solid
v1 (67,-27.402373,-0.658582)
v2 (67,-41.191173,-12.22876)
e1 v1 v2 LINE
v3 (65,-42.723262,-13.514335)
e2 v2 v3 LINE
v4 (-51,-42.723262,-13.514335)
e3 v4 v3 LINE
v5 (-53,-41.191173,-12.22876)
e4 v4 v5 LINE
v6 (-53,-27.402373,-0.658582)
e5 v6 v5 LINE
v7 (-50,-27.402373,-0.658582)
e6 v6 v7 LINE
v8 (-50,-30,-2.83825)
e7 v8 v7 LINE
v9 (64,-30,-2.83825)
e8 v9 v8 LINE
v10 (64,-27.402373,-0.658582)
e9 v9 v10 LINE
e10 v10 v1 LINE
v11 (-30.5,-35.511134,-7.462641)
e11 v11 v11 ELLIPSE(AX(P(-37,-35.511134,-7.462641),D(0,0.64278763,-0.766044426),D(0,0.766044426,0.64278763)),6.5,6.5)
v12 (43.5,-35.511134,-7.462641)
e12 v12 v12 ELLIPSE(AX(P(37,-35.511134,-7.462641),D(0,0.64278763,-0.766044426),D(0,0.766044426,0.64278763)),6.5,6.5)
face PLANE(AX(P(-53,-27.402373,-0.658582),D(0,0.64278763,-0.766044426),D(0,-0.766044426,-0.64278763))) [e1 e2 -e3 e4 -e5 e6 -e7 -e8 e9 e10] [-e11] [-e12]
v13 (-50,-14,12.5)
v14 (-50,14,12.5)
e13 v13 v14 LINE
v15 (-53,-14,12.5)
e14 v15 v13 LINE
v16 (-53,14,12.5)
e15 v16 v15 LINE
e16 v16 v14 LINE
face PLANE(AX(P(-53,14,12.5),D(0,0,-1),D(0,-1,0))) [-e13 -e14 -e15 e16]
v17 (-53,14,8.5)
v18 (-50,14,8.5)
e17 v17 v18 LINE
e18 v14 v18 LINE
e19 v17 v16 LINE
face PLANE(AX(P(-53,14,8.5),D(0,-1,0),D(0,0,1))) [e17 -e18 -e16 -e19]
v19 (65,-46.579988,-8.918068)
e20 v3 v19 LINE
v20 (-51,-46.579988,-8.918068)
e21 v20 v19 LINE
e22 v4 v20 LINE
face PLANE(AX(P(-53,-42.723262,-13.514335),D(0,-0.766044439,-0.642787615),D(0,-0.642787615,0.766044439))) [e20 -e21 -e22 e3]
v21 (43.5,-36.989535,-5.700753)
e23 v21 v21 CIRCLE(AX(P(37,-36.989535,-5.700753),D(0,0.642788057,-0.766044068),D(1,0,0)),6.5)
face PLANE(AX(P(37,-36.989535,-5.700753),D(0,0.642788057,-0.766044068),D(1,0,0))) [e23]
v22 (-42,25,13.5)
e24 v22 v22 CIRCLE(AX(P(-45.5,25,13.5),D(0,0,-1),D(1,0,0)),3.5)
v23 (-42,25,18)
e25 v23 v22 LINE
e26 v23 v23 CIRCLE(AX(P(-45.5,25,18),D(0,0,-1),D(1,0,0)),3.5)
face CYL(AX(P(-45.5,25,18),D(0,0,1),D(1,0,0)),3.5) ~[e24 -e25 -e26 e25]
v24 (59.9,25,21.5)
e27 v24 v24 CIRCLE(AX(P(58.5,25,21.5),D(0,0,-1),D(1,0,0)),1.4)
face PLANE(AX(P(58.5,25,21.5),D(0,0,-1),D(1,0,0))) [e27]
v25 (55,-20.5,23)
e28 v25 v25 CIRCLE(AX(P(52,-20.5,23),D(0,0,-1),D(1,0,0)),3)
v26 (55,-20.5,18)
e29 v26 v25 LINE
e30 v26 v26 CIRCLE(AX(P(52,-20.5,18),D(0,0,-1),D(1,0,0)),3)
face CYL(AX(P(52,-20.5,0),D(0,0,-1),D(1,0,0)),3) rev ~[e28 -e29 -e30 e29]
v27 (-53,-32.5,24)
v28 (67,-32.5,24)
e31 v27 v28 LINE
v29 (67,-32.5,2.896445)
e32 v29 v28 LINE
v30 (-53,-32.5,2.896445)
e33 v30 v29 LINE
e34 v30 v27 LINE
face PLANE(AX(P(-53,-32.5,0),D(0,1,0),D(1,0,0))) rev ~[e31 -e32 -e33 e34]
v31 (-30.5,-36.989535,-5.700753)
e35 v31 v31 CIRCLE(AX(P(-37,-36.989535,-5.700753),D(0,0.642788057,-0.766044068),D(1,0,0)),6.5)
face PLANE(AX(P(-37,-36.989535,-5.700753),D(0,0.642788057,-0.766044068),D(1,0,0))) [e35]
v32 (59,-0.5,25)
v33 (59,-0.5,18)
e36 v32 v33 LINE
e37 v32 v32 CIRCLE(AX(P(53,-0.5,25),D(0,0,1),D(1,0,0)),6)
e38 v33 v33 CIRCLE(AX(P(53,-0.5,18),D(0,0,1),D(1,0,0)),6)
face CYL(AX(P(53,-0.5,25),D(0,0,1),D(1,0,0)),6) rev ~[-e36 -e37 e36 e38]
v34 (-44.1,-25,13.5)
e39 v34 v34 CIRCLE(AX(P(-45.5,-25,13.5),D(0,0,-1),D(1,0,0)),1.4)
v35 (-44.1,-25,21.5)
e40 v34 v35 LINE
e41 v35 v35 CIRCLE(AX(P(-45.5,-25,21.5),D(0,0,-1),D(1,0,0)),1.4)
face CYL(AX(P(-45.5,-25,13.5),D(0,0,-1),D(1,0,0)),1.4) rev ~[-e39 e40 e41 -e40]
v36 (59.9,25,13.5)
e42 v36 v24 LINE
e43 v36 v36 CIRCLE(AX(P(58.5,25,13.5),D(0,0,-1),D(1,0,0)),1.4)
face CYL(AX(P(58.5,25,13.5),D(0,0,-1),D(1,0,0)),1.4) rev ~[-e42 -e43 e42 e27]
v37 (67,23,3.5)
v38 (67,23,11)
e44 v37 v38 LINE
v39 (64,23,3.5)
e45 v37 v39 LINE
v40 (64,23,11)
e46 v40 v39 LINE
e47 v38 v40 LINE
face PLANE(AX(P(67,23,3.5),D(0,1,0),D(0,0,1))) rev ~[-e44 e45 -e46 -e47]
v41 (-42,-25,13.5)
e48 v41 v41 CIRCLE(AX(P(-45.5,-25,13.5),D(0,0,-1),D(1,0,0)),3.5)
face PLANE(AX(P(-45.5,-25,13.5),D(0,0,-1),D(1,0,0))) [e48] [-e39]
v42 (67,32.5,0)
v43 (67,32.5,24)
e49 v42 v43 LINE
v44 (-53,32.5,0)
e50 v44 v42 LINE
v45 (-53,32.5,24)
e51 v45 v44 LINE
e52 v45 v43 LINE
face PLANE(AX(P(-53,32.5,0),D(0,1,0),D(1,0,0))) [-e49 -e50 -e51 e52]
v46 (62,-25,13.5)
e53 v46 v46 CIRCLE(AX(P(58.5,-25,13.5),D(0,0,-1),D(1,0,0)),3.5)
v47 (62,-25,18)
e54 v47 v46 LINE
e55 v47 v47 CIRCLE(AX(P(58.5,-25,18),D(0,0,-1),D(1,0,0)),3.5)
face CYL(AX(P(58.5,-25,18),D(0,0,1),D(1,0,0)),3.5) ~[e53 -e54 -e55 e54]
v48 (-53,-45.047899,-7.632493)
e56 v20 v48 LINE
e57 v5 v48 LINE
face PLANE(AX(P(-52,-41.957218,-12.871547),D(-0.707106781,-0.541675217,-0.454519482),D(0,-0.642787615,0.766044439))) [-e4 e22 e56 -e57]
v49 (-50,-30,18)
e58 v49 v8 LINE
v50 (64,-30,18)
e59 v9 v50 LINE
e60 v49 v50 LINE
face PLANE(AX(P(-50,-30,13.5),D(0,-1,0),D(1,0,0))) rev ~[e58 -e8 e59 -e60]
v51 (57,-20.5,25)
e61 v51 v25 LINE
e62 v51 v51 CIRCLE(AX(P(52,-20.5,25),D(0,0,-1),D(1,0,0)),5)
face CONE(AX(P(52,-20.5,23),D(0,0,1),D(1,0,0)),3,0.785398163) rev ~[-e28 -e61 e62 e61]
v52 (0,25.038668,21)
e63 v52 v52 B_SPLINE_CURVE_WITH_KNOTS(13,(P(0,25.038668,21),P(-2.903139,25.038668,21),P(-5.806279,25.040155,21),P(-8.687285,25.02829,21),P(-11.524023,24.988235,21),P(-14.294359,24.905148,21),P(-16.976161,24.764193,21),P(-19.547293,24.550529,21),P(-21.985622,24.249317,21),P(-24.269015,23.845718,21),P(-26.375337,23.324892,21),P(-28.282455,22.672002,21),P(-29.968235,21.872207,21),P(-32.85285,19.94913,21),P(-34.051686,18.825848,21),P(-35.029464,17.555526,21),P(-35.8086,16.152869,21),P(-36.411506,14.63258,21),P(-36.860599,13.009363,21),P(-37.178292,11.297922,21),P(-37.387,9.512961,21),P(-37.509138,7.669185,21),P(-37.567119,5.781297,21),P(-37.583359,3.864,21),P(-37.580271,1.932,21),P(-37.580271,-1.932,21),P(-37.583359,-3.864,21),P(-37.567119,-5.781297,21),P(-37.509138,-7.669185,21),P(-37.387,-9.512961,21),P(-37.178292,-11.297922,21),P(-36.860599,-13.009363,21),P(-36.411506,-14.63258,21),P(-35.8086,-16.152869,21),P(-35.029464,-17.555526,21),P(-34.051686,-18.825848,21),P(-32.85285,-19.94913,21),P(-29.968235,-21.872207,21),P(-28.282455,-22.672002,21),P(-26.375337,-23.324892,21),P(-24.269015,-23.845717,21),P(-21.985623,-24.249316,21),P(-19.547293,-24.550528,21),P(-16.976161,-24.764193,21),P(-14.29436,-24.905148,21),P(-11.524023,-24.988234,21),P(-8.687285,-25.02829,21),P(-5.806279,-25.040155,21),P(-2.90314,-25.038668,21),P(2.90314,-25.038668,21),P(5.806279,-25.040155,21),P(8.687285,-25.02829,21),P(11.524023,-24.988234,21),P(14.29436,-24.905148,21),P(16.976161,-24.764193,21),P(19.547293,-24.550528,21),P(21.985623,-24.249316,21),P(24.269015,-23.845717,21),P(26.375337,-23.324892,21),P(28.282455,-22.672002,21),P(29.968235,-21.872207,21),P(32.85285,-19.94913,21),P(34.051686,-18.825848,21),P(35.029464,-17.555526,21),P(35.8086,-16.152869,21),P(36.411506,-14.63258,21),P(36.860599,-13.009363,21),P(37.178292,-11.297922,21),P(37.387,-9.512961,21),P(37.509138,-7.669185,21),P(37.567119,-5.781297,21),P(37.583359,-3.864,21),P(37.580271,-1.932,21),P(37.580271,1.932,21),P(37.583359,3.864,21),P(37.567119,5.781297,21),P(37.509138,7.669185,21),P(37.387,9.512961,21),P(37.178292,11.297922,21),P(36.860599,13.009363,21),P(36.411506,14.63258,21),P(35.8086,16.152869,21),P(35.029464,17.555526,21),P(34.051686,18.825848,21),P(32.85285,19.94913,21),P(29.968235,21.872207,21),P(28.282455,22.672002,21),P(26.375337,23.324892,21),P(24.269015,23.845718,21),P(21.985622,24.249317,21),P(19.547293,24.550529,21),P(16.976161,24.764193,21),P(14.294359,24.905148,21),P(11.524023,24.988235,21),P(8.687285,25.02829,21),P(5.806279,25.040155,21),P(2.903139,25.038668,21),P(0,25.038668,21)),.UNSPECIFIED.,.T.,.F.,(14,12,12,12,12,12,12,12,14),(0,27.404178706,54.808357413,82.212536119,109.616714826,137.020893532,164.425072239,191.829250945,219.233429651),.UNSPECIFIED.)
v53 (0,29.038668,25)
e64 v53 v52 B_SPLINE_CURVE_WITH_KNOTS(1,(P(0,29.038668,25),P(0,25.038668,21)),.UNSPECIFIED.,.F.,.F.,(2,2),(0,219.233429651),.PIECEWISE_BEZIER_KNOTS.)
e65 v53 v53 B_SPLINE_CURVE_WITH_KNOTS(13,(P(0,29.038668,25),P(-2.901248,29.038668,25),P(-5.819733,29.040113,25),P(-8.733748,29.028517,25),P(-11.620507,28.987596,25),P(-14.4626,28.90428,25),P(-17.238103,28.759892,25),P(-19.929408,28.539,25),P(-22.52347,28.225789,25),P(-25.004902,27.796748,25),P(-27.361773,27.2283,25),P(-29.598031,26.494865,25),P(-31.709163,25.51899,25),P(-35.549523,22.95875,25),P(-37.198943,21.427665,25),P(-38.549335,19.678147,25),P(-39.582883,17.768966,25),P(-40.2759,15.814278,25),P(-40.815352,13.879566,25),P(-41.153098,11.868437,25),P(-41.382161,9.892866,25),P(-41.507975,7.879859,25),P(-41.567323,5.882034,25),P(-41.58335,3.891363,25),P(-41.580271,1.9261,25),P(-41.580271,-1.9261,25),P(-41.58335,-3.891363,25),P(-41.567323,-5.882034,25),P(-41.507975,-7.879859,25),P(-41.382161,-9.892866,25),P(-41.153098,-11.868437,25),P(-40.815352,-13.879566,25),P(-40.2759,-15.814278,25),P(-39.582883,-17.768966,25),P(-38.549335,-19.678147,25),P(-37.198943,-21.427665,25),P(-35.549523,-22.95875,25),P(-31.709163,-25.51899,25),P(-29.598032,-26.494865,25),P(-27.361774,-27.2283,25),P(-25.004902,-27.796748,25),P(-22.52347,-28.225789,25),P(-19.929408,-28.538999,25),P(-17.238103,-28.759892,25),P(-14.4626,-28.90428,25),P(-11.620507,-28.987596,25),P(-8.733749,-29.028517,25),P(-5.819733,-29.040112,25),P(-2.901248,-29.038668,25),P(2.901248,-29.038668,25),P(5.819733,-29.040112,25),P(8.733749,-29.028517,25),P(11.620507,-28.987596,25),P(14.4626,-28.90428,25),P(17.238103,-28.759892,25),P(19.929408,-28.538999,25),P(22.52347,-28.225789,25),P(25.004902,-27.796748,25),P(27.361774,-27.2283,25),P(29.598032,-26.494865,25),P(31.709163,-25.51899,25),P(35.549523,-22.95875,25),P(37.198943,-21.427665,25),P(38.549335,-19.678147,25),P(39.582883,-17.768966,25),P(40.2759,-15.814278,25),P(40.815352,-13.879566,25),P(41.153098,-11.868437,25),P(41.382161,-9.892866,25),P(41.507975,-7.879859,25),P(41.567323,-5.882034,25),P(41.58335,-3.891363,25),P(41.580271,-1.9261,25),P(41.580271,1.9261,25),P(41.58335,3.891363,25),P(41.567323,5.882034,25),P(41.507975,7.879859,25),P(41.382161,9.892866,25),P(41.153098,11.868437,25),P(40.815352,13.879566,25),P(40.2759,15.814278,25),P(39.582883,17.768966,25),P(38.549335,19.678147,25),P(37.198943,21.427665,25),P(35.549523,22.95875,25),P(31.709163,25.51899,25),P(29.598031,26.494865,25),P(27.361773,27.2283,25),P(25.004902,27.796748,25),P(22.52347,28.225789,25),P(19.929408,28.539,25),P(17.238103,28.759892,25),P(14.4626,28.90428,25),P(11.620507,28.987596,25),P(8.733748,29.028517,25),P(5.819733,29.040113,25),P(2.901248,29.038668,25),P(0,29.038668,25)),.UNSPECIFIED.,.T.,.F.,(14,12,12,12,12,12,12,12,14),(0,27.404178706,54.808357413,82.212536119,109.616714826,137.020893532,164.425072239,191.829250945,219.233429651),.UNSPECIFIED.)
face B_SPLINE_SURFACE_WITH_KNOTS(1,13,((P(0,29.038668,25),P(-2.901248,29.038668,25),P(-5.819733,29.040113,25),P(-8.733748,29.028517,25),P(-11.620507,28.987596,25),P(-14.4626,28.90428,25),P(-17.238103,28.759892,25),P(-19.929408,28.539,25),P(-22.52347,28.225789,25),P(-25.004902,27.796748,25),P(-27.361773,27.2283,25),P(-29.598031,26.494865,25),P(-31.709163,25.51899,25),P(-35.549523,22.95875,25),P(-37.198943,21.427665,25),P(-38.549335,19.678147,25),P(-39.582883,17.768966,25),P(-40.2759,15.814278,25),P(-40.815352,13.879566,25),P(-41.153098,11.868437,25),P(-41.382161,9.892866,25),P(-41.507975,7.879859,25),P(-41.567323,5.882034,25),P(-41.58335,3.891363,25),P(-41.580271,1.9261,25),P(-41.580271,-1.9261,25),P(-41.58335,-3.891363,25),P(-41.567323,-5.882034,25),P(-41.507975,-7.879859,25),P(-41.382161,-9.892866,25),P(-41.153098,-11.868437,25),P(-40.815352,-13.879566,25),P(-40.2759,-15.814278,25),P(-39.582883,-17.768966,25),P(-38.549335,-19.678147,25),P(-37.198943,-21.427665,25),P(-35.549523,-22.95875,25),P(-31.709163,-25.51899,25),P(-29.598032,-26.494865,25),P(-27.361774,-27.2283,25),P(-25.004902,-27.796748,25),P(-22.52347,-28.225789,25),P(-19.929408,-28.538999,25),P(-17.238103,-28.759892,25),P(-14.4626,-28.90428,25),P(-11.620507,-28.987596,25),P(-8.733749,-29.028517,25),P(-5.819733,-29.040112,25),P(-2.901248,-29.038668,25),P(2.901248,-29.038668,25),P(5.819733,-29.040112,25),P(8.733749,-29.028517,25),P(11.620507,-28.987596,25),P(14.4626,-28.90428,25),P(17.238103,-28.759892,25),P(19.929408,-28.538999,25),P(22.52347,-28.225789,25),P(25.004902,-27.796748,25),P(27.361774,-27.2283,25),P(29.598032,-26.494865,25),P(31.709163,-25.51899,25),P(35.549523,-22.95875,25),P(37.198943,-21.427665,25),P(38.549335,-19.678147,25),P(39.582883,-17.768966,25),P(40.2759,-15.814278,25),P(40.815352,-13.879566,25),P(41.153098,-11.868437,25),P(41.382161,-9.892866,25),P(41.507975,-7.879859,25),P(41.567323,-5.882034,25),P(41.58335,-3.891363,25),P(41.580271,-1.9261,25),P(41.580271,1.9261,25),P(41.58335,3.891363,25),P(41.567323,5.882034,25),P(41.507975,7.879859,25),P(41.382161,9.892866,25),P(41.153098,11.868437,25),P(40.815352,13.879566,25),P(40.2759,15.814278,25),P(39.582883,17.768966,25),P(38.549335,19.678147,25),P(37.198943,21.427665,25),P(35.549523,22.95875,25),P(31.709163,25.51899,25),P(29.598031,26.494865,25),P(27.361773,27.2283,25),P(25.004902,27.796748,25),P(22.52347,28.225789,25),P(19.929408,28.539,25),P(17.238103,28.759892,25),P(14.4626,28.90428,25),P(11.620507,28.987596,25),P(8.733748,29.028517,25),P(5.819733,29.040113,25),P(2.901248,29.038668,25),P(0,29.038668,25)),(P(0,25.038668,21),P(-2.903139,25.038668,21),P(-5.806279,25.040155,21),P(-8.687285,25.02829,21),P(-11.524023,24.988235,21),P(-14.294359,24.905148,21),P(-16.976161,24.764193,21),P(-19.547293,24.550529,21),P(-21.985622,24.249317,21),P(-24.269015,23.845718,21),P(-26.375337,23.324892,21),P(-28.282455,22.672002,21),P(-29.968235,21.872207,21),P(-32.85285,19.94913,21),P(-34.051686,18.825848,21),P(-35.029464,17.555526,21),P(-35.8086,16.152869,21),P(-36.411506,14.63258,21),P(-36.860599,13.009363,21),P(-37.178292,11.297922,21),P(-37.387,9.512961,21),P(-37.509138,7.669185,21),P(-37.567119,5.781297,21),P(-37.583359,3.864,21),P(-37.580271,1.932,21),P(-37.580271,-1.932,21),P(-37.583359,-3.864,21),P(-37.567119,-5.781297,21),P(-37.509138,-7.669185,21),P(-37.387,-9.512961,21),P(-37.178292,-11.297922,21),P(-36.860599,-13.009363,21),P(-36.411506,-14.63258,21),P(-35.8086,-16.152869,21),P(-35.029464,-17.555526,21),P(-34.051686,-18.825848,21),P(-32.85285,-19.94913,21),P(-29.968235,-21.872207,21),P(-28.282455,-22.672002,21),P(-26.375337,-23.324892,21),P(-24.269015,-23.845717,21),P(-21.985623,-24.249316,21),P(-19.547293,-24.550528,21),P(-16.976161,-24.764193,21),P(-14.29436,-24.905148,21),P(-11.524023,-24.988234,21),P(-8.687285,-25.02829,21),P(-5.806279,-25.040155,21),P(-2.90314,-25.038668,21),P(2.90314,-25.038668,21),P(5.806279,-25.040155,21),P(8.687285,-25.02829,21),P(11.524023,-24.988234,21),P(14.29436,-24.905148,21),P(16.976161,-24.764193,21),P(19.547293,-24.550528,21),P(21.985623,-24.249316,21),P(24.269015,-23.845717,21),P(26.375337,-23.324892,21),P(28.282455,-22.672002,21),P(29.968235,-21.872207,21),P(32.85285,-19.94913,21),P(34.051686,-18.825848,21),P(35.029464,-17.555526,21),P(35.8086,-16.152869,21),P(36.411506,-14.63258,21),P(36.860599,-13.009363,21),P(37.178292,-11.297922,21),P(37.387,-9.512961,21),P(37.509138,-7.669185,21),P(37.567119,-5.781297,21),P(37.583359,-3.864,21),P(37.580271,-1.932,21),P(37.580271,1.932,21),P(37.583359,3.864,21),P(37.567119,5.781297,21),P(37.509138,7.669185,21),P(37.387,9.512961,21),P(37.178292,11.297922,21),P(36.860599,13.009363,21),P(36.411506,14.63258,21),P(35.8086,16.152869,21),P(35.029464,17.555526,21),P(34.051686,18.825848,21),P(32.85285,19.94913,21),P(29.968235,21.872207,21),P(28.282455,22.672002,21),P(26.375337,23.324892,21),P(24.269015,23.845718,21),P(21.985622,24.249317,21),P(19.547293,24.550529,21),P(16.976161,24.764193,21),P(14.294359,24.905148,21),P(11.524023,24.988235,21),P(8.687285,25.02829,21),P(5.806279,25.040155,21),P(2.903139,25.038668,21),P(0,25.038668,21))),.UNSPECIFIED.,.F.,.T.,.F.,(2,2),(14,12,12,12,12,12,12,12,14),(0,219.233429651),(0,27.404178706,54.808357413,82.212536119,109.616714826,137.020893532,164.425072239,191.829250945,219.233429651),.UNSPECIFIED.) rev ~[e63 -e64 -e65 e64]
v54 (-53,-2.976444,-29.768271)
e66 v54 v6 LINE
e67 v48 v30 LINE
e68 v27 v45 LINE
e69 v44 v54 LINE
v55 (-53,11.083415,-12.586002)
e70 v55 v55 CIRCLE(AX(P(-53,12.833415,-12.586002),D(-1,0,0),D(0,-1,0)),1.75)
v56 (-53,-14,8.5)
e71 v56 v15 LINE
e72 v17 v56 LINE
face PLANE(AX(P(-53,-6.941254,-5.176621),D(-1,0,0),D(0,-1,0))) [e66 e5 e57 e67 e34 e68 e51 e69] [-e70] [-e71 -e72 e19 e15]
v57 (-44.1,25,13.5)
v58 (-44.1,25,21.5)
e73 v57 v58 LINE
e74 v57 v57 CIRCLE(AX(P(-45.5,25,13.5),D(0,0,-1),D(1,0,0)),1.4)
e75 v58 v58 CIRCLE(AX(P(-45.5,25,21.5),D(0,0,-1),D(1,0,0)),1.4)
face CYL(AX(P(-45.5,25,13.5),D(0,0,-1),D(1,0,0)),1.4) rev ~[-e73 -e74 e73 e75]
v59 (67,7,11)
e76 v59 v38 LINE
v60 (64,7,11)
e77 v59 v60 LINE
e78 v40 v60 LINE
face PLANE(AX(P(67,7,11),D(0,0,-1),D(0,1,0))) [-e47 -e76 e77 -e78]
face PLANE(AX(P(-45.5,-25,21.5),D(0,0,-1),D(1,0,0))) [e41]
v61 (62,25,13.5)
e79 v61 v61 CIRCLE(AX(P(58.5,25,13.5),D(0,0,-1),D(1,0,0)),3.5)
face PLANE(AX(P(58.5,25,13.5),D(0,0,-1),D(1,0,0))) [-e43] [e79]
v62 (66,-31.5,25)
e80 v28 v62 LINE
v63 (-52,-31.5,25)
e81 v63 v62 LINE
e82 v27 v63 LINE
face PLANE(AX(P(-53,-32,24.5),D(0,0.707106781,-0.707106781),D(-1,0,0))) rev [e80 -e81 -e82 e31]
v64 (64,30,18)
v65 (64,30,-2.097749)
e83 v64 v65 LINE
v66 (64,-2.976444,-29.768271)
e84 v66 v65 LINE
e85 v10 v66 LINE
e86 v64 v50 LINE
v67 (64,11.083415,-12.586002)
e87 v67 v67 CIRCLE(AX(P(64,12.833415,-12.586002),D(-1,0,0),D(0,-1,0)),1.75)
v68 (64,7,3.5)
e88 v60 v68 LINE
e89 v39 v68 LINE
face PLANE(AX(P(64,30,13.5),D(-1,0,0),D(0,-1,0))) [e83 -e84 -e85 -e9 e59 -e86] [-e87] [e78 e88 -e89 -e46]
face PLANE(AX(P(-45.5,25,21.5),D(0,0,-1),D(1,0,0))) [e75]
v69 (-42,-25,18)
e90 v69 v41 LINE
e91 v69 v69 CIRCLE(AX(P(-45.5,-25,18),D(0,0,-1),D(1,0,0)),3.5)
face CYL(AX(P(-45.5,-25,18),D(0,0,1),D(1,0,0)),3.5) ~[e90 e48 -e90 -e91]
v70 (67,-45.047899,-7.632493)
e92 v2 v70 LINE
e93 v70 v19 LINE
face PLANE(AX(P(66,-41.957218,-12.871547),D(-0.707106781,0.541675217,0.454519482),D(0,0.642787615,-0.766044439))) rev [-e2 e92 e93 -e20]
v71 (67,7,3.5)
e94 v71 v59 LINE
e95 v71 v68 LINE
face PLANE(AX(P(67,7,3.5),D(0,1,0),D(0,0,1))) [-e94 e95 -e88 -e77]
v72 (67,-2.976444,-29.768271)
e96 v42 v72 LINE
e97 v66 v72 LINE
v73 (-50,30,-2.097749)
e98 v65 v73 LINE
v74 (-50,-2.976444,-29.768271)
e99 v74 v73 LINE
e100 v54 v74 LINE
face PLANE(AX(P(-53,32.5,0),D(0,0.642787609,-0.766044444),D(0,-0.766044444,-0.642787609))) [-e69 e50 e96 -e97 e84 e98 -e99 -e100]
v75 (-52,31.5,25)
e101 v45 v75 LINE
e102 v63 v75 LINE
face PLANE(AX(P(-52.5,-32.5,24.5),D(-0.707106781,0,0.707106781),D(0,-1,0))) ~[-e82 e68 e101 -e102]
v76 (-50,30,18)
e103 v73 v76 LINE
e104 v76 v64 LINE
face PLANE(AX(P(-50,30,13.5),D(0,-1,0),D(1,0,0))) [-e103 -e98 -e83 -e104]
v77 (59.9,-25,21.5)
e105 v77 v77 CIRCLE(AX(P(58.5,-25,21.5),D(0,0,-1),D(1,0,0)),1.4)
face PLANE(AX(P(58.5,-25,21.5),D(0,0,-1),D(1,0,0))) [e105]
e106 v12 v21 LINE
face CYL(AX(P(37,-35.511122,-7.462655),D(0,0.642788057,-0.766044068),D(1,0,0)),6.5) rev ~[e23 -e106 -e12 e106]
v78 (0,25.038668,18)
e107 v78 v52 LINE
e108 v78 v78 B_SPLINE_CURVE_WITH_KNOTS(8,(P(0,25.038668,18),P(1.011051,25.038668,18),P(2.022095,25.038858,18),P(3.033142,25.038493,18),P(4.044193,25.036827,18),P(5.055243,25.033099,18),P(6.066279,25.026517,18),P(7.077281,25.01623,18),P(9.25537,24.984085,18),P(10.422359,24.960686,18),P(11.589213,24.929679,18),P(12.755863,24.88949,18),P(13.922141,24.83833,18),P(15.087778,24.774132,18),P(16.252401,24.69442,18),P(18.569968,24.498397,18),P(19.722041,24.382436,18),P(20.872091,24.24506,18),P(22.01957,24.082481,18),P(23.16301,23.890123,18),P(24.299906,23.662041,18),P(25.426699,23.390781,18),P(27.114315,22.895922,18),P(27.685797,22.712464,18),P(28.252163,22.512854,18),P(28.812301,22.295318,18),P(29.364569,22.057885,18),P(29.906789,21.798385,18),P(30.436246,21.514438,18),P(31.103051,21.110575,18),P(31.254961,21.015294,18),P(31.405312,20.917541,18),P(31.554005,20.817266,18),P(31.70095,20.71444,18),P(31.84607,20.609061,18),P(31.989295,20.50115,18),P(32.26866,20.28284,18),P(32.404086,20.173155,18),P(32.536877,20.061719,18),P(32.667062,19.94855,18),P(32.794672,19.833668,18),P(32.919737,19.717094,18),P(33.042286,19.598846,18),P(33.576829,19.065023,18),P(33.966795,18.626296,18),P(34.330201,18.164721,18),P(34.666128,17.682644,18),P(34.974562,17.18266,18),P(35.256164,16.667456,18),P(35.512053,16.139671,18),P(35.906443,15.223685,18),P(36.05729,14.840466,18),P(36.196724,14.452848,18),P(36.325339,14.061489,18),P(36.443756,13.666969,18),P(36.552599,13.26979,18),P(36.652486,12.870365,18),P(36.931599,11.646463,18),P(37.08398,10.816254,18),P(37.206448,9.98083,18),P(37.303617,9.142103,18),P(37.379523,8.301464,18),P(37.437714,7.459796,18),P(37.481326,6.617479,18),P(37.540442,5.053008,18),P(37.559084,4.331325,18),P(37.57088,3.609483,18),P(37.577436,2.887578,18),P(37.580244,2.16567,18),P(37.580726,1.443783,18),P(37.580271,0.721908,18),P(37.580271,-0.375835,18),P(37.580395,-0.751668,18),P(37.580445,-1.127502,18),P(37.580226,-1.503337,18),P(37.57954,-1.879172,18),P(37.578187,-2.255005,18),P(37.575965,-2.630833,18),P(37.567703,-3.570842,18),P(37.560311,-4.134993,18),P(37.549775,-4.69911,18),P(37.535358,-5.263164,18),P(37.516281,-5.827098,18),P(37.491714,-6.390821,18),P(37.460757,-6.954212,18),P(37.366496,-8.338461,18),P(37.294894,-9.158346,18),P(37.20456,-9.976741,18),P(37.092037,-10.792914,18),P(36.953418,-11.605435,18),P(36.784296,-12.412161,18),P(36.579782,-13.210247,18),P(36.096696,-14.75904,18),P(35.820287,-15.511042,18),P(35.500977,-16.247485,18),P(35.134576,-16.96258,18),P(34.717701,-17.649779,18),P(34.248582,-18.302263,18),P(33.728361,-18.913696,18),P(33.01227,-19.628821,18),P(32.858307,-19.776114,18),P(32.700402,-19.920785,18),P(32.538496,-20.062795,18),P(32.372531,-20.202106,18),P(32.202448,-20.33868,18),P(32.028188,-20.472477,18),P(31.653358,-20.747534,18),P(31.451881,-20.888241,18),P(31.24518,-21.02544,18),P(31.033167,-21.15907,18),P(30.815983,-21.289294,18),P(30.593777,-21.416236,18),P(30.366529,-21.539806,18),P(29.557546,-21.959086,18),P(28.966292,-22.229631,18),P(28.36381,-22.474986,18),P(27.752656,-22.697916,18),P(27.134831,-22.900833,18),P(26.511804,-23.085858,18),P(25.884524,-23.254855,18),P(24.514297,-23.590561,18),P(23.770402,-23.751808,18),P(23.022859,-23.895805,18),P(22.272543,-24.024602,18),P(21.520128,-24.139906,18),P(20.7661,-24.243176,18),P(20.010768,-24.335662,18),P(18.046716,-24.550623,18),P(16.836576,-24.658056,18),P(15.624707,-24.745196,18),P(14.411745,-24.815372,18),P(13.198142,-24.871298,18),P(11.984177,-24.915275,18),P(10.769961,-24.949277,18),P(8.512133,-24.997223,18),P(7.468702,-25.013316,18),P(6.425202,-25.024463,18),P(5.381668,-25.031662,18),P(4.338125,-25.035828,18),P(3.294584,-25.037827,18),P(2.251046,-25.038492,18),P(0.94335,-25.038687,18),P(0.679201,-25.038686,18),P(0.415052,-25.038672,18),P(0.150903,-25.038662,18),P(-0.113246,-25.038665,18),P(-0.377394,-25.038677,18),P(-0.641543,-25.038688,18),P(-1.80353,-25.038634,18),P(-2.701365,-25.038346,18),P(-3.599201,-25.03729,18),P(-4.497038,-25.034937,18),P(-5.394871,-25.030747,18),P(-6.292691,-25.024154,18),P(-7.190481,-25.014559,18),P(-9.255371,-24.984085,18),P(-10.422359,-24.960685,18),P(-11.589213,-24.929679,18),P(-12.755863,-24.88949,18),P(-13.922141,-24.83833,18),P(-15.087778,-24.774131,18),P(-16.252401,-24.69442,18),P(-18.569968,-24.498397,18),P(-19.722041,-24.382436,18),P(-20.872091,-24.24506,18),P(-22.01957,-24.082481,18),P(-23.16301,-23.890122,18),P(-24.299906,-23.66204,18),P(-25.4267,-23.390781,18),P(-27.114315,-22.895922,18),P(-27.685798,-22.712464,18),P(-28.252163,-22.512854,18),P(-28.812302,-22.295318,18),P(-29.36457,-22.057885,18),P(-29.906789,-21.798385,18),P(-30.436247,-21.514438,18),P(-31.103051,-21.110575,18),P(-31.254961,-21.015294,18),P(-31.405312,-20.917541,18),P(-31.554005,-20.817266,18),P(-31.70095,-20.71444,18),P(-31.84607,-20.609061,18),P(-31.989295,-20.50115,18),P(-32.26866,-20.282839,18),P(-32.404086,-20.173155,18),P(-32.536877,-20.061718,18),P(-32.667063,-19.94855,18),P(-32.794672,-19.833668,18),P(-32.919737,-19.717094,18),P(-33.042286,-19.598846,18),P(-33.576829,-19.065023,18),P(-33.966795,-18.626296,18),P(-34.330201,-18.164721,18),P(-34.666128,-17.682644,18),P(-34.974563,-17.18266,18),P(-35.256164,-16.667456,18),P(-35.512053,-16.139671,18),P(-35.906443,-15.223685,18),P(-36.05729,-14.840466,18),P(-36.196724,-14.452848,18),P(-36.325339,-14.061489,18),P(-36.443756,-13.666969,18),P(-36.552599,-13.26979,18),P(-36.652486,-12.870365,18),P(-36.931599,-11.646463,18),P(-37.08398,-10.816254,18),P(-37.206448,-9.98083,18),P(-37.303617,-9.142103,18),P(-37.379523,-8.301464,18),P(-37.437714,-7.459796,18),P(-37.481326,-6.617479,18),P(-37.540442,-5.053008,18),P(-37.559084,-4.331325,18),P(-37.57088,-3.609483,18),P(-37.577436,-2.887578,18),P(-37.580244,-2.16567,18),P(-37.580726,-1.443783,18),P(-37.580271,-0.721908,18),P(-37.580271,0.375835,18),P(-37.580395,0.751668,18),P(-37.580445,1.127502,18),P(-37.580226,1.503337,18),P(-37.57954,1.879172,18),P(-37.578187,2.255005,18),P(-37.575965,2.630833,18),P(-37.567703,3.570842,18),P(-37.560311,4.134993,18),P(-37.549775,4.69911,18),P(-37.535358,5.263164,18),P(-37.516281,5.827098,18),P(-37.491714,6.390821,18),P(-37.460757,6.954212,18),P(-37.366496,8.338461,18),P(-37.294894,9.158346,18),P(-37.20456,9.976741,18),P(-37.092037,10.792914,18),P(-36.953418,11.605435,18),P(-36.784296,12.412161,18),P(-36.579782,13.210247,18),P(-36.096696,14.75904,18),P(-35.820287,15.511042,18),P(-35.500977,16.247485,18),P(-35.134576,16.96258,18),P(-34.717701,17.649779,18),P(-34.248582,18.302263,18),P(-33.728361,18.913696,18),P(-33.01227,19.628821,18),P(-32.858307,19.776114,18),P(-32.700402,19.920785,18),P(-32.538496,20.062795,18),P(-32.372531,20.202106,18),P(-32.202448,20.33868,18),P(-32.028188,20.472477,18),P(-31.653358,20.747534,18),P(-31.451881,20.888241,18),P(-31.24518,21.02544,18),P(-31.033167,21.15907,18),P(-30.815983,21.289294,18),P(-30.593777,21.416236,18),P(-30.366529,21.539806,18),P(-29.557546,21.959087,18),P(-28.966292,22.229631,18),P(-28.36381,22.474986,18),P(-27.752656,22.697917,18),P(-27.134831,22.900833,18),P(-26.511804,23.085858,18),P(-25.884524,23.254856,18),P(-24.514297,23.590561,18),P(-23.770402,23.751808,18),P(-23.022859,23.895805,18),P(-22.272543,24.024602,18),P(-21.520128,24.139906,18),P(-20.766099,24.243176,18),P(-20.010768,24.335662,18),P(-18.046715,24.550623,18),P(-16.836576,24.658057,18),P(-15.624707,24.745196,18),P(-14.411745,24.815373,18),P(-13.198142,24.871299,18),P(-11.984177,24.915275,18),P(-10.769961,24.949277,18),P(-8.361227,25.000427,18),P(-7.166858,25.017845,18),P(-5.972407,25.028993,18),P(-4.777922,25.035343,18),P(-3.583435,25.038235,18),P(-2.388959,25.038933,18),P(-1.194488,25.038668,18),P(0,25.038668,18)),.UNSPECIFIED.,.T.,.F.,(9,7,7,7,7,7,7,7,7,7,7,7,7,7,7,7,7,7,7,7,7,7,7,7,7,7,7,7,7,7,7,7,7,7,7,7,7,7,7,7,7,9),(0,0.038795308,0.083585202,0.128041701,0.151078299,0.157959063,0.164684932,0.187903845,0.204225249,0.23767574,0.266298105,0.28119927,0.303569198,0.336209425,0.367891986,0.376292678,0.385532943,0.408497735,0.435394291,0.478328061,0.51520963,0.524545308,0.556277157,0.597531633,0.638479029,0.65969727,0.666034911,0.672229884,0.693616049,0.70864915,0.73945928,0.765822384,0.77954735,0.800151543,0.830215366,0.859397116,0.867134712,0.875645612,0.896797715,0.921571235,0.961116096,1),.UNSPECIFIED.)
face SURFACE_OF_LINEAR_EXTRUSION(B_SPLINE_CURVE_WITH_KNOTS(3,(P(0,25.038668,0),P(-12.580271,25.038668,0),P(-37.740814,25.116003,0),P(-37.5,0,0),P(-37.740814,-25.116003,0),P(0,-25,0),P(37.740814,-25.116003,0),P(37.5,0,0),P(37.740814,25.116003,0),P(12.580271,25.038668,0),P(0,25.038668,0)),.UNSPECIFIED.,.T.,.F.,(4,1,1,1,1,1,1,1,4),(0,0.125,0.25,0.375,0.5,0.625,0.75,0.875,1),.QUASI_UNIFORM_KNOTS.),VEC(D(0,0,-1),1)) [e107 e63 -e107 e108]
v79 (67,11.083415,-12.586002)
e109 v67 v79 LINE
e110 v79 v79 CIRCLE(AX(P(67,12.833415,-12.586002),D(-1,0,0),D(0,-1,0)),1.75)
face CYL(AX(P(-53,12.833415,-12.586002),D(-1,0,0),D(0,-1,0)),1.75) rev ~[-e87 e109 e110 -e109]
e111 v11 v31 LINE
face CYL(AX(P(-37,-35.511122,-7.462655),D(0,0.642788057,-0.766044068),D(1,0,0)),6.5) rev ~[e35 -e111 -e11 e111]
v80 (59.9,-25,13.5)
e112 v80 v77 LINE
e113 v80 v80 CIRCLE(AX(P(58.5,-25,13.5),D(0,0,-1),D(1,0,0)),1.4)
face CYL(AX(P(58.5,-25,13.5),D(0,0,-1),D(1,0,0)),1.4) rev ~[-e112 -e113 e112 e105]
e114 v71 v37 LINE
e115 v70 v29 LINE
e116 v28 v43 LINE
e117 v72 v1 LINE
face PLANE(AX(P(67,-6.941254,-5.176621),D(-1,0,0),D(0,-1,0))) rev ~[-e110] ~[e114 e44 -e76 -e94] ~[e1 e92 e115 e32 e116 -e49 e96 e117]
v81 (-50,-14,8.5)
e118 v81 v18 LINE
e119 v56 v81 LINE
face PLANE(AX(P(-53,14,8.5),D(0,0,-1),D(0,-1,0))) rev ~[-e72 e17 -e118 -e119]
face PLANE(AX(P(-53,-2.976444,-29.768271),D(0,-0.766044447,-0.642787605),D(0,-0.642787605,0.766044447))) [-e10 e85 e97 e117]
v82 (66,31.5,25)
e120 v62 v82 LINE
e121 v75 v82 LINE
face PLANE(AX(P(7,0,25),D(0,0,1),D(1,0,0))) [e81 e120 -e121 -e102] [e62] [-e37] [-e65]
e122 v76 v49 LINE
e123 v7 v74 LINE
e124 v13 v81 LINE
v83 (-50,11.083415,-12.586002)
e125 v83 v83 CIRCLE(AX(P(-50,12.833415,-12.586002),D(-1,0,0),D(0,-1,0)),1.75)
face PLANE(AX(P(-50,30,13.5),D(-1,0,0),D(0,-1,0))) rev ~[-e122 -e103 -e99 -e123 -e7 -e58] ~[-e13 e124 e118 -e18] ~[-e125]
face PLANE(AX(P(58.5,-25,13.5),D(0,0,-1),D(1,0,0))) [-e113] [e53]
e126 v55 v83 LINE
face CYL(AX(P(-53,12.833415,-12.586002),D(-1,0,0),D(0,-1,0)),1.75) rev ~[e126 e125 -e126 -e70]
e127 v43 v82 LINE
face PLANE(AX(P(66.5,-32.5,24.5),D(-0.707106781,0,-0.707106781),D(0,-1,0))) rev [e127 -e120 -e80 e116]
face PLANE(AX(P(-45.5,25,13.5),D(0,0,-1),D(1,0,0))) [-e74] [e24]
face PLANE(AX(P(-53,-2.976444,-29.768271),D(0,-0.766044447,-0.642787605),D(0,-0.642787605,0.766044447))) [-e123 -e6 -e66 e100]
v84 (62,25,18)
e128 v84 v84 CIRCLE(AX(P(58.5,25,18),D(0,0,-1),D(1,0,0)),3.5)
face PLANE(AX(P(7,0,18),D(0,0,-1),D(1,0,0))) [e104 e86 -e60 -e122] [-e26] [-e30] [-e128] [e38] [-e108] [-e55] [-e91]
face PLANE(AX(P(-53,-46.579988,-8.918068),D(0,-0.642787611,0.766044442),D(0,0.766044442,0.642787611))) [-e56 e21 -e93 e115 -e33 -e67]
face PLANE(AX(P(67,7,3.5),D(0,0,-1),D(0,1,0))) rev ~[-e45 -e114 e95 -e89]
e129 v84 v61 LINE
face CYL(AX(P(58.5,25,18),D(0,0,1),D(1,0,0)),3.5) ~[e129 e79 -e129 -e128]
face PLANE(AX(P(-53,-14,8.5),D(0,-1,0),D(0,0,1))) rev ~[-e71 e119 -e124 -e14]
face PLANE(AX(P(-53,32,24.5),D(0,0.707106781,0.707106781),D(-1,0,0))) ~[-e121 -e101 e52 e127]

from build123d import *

# Parameters (mm, degrees)
SKETCH_W        = 120
SKETCH_H        = 65
PAD_DEPTH       = 25
SKETCH004_R     = 3
POCKET001_DEPTH = 25.001
SKETCH001_R     = 6
POCKET_DEPTH    = 25.001
SKETCH005_W     = 114
SKETCH005_H     = 60
POCKET002_DEPTH = 18
CHAMFER_SIZE    = 4
SKETCH006_R     = 3.5
PAD001_DEPTH    = 4.5
SKETCH007_R     = 1.4
POCKET003_DEPTH = 8
SKETCH008_W     = 16
SKETCH008_H     = 6.5
POCKET004_DEPTH = 9
SKETCH009_W     = 28
SKETCH009_H     = 4
POCKET005_DEPTH = 5
PAD002_DEPTH    = 120
SKETCH015_W     = 114
SKETCH015_H     = 60
POCKET006_DEPTH = 47
SKETCH016_W     = 16
SKETCH016_H     = 7.5
POCKET007_DEPTH = 9
CHAMFER001_SIZE = 2
SKETCH022_R     = 1.75
POCKET010_DEPTH = 120.001
CHAMFER005_SIZE = 2
CHAMFER006_SIZE = 2
SKETCH023_R     = 6.5
POCKET011_DEPTH = 2.3
CHAMFER007_SIZE = 1


with BuildPart() as part:
    # Sketch → Pad (new body)
    with BuildSketch(Plane.XY):
        with Locations((7, 0)):
            Rectangle(SKETCH_W, SKETCH_H)
        with BuildLine():
            add(Edge.make_bspline(
                [(0, 25.038668), (-12.580271, 25.038668), (-37.740814, 25.116003), (-37.5, 0), (-37.740814, -25.116003), (0, -25), (37.740814, -25.116003), (37.5, 0), (37.740814, 25.116003), (12.580271, 25.038668), (0, 25.038668)],
                knots=[0, 0, 0, 0, 0.125, 0.25, 0.375, 0.5, 0.625, 0.75, 0.875, 1, 1, 1, 1], degree=3))
        make_face(mode=Mode.SUBTRACT)
    extrude(amount=PAD_DEPTH)

    # Sketch004 → Pocket001 (cut, through all)
    with BuildSketch(Plane(origin=(0, 0, 0), x_dir=(1, 0, 0), z_dir=(0, 0, -1))):
        with Locations((52, 20.5)):
            Circle(SKETCH004_R)
    extrude(amount=-POCKET001_DEPTH, mode=Mode.SUBTRACT)

    # Sketch001 (on Face5 of Pocket001) → Pocket (cut, through all)
    with BuildSketch(Plane.XY.offset(25)):
        with Locations((53, -0.5)):
            Circle(SKETCH001_R)
    extrude(amount=-POCKET_DEPTH, mode=Mode.SUBTRACT)

    # Sketch005 (on Face4 of Pocket) → Pocket002 (cut)
    with BuildSketch(Plane(origin=(0, 0, 0), x_dir=(1, 0, 0), z_dir=(0, 0, -1))):
        with Locations((7, 0)):
            Rectangle(SKETCH005_W, SKETCH005_H)
    extrude(amount=-POCKET002_DEPTH, mode=Mode.SUBTRACT)

    # Chamfer
    chamfer_edges = [part.edges().sort_by_distance(p)[0] for p in [
        (0, -25.038668, 25),
    ]]
    chamfer(chamfer_edges, length=CHAMFER_SIZE)

    # Sketch006 (on Face11 of Chamfer) → Pad001 (join)
    with BuildSketch(Plane(origin=(0, 0, 18), x_dir=(1, 0, 0), z_dir=(0, 0, -1))):
        with Locations((-45.5, 25)):
            Circle(SKETCH006_R)
        with Locations((-45.5, -25)):
            Circle(SKETCH006_R)
        with Locations((58.5, -25)):
            Circle(SKETCH006_R)
        with Locations((58.5, 25)):
            Circle(SKETCH006_R)
    extrude(amount=PAD001_DEPTH)

    # Sketch007 (on Face22 of Pad001) → Pocket003 (cut)
    with BuildSketch(Plane(origin=(0, 0, 13.5), x_dir=(1, 0, 0), z_dir=(0, 0, -1))):
        with Locations((-45.5, 25)):
            Circle(SKETCH007_R)
        with Locations((58.5, 25)):
            Circle(SKETCH007_R)
        with Locations((58.5, -25)):
            Circle(SKETCH007_R)
        with Locations((-45.5, -25)):
            Circle(SKETCH007_R)
    extrude(amount=-POCKET003_DEPTH, mode=Mode.SUBTRACT)

    # Sketch008 (on Face5 of Pocket003) → Pocket004 (cut)
    with BuildSketch(Plane.YZ.offset(67)):
        with Locations((15, 3.25)):
            Rectangle(SKETCH008_W, SKETCH008_H)
    extrude(amount=-POCKET004_DEPTH, mode=Mode.SUBTRACT)

    # Sketch009 (on Face4 of Pocket004) → Pocket005 (cut)
    with BuildSketch(Plane(origin=(-53, 0, 0), x_dir=(0, -1, 0), z_dir=(-1, 0, 0))):
        with Locations((0, 10.5)):
            Rectangle(SKETCH009_W, SKETCH009_H)
    extrude(amount=-POCKET005_DEPTH, mode=Mode.SUBTRACT)

    # Sketch010 (on Face4 of Pocket005) → Pad002 (join)
    with BuildSketch(Plane(origin=(-53, 0, 0), x_dir=(0, -1, 0), z_dir=(-1, 0, 0))):
        Polygon((2.976444, -29.768271), (27.402373, -0.658582), (42.723262, -13.514335), (46.579988, -8.918068), (27.480858, 7.108005), (-32.5, 7.108005), (-32.5, 0), align=None)
    extrude(amount=-PAD002_DEPTH)

    # Sketch015 → Pocket006 (cut)
    with BuildSketch(Plane(origin=(0, 0, 13.5), x_dir=(1, 0, 0), z_dir=(0, 0, -1))):
        with Locations((7, 0)):
            Rectangle(SKETCH015_W, SKETCH015_H)
    extrude(amount=POCKET006_DEPTH, mode=Mode.SUBTRACT)

    # Sketch016 (on Face5 of Pocket006) → Pocket007 (cut)
    with BuildSketch(Plane.YZ.offset(67)):
        with Locations((15, 7.25)):
            Rectangle(SKETCH016_W, SKETCH016_H)
    extrude(amount=-POCKET007_DEPTH, mode=Mode.SUBTRACT)

    # Chamfer001
    chamfer001_edges = [part.edges().sort_by_distance(p)[0] for p in [
        (49, -20.5, 25),
    ]]
    chamfer(chamfer001_edges, length=CHAMFER001_SIZE)

    # Sketch022 (on Face25 of Chamfer001) → Pocket010 (cut, through all)
    with BuildSketch(Plane(origin=(-53, 0, 0), x_dir=(0, -1, 0), z_dir=(-1, 0, 0))):
        with Locations((-12.833415, -12.586002)):
            Circle(SKETCH022_R)
    extrude(amount=-POCKET010_DEPTH, mode=Mode.SUBTRACT)

    # Chamfer005
    chamfer005_edges = [part.edges().sort_by_distance(p)[0] for p in [
        (67, -44.651625, -11.216201),
    ]]
    chamfer(chamfer005_edges, length=CHAMFER005_SIZE)

    # Chamfer006
    chamfer006_edges = [part.edges().sort_by_distance(p)[0] for p in [
        (-53, -44.651625, -11.216201),
    ]]
    chamfer(chamfer006_edges, length=CHAMFER006_SIZE)

    # Sketch023 (on Face8 of Chamfer006) → Pocket011 (cut)
    with BuildSketch(Plane(origin=(0, -10.997712, 13.106563), x_dir=(1, 0, 0), z_dir=(0, 0.642788, -0.766044))):
        with Locations((-37, 32)):
            Circle(SKETCH023_R)
        with Locations((37, 32)):
            Circle(SKETCH023_R)
    extrude(amount=-POCKET011_DEPTH, mode=Mode.SUBTRACT)

    # Chamfer007
    chamfer007_edges = [part.edges().sort_by_distance(p)[0] for p in [
        (7, 32.5, 25),
        (67, 0, 25),
        (7, -32.5, 25),
        (-53, 0, 25),
    ]]
    chamfer(chamfer007_edges, length=CHAMFER007_SIZE)


solid = part.part
